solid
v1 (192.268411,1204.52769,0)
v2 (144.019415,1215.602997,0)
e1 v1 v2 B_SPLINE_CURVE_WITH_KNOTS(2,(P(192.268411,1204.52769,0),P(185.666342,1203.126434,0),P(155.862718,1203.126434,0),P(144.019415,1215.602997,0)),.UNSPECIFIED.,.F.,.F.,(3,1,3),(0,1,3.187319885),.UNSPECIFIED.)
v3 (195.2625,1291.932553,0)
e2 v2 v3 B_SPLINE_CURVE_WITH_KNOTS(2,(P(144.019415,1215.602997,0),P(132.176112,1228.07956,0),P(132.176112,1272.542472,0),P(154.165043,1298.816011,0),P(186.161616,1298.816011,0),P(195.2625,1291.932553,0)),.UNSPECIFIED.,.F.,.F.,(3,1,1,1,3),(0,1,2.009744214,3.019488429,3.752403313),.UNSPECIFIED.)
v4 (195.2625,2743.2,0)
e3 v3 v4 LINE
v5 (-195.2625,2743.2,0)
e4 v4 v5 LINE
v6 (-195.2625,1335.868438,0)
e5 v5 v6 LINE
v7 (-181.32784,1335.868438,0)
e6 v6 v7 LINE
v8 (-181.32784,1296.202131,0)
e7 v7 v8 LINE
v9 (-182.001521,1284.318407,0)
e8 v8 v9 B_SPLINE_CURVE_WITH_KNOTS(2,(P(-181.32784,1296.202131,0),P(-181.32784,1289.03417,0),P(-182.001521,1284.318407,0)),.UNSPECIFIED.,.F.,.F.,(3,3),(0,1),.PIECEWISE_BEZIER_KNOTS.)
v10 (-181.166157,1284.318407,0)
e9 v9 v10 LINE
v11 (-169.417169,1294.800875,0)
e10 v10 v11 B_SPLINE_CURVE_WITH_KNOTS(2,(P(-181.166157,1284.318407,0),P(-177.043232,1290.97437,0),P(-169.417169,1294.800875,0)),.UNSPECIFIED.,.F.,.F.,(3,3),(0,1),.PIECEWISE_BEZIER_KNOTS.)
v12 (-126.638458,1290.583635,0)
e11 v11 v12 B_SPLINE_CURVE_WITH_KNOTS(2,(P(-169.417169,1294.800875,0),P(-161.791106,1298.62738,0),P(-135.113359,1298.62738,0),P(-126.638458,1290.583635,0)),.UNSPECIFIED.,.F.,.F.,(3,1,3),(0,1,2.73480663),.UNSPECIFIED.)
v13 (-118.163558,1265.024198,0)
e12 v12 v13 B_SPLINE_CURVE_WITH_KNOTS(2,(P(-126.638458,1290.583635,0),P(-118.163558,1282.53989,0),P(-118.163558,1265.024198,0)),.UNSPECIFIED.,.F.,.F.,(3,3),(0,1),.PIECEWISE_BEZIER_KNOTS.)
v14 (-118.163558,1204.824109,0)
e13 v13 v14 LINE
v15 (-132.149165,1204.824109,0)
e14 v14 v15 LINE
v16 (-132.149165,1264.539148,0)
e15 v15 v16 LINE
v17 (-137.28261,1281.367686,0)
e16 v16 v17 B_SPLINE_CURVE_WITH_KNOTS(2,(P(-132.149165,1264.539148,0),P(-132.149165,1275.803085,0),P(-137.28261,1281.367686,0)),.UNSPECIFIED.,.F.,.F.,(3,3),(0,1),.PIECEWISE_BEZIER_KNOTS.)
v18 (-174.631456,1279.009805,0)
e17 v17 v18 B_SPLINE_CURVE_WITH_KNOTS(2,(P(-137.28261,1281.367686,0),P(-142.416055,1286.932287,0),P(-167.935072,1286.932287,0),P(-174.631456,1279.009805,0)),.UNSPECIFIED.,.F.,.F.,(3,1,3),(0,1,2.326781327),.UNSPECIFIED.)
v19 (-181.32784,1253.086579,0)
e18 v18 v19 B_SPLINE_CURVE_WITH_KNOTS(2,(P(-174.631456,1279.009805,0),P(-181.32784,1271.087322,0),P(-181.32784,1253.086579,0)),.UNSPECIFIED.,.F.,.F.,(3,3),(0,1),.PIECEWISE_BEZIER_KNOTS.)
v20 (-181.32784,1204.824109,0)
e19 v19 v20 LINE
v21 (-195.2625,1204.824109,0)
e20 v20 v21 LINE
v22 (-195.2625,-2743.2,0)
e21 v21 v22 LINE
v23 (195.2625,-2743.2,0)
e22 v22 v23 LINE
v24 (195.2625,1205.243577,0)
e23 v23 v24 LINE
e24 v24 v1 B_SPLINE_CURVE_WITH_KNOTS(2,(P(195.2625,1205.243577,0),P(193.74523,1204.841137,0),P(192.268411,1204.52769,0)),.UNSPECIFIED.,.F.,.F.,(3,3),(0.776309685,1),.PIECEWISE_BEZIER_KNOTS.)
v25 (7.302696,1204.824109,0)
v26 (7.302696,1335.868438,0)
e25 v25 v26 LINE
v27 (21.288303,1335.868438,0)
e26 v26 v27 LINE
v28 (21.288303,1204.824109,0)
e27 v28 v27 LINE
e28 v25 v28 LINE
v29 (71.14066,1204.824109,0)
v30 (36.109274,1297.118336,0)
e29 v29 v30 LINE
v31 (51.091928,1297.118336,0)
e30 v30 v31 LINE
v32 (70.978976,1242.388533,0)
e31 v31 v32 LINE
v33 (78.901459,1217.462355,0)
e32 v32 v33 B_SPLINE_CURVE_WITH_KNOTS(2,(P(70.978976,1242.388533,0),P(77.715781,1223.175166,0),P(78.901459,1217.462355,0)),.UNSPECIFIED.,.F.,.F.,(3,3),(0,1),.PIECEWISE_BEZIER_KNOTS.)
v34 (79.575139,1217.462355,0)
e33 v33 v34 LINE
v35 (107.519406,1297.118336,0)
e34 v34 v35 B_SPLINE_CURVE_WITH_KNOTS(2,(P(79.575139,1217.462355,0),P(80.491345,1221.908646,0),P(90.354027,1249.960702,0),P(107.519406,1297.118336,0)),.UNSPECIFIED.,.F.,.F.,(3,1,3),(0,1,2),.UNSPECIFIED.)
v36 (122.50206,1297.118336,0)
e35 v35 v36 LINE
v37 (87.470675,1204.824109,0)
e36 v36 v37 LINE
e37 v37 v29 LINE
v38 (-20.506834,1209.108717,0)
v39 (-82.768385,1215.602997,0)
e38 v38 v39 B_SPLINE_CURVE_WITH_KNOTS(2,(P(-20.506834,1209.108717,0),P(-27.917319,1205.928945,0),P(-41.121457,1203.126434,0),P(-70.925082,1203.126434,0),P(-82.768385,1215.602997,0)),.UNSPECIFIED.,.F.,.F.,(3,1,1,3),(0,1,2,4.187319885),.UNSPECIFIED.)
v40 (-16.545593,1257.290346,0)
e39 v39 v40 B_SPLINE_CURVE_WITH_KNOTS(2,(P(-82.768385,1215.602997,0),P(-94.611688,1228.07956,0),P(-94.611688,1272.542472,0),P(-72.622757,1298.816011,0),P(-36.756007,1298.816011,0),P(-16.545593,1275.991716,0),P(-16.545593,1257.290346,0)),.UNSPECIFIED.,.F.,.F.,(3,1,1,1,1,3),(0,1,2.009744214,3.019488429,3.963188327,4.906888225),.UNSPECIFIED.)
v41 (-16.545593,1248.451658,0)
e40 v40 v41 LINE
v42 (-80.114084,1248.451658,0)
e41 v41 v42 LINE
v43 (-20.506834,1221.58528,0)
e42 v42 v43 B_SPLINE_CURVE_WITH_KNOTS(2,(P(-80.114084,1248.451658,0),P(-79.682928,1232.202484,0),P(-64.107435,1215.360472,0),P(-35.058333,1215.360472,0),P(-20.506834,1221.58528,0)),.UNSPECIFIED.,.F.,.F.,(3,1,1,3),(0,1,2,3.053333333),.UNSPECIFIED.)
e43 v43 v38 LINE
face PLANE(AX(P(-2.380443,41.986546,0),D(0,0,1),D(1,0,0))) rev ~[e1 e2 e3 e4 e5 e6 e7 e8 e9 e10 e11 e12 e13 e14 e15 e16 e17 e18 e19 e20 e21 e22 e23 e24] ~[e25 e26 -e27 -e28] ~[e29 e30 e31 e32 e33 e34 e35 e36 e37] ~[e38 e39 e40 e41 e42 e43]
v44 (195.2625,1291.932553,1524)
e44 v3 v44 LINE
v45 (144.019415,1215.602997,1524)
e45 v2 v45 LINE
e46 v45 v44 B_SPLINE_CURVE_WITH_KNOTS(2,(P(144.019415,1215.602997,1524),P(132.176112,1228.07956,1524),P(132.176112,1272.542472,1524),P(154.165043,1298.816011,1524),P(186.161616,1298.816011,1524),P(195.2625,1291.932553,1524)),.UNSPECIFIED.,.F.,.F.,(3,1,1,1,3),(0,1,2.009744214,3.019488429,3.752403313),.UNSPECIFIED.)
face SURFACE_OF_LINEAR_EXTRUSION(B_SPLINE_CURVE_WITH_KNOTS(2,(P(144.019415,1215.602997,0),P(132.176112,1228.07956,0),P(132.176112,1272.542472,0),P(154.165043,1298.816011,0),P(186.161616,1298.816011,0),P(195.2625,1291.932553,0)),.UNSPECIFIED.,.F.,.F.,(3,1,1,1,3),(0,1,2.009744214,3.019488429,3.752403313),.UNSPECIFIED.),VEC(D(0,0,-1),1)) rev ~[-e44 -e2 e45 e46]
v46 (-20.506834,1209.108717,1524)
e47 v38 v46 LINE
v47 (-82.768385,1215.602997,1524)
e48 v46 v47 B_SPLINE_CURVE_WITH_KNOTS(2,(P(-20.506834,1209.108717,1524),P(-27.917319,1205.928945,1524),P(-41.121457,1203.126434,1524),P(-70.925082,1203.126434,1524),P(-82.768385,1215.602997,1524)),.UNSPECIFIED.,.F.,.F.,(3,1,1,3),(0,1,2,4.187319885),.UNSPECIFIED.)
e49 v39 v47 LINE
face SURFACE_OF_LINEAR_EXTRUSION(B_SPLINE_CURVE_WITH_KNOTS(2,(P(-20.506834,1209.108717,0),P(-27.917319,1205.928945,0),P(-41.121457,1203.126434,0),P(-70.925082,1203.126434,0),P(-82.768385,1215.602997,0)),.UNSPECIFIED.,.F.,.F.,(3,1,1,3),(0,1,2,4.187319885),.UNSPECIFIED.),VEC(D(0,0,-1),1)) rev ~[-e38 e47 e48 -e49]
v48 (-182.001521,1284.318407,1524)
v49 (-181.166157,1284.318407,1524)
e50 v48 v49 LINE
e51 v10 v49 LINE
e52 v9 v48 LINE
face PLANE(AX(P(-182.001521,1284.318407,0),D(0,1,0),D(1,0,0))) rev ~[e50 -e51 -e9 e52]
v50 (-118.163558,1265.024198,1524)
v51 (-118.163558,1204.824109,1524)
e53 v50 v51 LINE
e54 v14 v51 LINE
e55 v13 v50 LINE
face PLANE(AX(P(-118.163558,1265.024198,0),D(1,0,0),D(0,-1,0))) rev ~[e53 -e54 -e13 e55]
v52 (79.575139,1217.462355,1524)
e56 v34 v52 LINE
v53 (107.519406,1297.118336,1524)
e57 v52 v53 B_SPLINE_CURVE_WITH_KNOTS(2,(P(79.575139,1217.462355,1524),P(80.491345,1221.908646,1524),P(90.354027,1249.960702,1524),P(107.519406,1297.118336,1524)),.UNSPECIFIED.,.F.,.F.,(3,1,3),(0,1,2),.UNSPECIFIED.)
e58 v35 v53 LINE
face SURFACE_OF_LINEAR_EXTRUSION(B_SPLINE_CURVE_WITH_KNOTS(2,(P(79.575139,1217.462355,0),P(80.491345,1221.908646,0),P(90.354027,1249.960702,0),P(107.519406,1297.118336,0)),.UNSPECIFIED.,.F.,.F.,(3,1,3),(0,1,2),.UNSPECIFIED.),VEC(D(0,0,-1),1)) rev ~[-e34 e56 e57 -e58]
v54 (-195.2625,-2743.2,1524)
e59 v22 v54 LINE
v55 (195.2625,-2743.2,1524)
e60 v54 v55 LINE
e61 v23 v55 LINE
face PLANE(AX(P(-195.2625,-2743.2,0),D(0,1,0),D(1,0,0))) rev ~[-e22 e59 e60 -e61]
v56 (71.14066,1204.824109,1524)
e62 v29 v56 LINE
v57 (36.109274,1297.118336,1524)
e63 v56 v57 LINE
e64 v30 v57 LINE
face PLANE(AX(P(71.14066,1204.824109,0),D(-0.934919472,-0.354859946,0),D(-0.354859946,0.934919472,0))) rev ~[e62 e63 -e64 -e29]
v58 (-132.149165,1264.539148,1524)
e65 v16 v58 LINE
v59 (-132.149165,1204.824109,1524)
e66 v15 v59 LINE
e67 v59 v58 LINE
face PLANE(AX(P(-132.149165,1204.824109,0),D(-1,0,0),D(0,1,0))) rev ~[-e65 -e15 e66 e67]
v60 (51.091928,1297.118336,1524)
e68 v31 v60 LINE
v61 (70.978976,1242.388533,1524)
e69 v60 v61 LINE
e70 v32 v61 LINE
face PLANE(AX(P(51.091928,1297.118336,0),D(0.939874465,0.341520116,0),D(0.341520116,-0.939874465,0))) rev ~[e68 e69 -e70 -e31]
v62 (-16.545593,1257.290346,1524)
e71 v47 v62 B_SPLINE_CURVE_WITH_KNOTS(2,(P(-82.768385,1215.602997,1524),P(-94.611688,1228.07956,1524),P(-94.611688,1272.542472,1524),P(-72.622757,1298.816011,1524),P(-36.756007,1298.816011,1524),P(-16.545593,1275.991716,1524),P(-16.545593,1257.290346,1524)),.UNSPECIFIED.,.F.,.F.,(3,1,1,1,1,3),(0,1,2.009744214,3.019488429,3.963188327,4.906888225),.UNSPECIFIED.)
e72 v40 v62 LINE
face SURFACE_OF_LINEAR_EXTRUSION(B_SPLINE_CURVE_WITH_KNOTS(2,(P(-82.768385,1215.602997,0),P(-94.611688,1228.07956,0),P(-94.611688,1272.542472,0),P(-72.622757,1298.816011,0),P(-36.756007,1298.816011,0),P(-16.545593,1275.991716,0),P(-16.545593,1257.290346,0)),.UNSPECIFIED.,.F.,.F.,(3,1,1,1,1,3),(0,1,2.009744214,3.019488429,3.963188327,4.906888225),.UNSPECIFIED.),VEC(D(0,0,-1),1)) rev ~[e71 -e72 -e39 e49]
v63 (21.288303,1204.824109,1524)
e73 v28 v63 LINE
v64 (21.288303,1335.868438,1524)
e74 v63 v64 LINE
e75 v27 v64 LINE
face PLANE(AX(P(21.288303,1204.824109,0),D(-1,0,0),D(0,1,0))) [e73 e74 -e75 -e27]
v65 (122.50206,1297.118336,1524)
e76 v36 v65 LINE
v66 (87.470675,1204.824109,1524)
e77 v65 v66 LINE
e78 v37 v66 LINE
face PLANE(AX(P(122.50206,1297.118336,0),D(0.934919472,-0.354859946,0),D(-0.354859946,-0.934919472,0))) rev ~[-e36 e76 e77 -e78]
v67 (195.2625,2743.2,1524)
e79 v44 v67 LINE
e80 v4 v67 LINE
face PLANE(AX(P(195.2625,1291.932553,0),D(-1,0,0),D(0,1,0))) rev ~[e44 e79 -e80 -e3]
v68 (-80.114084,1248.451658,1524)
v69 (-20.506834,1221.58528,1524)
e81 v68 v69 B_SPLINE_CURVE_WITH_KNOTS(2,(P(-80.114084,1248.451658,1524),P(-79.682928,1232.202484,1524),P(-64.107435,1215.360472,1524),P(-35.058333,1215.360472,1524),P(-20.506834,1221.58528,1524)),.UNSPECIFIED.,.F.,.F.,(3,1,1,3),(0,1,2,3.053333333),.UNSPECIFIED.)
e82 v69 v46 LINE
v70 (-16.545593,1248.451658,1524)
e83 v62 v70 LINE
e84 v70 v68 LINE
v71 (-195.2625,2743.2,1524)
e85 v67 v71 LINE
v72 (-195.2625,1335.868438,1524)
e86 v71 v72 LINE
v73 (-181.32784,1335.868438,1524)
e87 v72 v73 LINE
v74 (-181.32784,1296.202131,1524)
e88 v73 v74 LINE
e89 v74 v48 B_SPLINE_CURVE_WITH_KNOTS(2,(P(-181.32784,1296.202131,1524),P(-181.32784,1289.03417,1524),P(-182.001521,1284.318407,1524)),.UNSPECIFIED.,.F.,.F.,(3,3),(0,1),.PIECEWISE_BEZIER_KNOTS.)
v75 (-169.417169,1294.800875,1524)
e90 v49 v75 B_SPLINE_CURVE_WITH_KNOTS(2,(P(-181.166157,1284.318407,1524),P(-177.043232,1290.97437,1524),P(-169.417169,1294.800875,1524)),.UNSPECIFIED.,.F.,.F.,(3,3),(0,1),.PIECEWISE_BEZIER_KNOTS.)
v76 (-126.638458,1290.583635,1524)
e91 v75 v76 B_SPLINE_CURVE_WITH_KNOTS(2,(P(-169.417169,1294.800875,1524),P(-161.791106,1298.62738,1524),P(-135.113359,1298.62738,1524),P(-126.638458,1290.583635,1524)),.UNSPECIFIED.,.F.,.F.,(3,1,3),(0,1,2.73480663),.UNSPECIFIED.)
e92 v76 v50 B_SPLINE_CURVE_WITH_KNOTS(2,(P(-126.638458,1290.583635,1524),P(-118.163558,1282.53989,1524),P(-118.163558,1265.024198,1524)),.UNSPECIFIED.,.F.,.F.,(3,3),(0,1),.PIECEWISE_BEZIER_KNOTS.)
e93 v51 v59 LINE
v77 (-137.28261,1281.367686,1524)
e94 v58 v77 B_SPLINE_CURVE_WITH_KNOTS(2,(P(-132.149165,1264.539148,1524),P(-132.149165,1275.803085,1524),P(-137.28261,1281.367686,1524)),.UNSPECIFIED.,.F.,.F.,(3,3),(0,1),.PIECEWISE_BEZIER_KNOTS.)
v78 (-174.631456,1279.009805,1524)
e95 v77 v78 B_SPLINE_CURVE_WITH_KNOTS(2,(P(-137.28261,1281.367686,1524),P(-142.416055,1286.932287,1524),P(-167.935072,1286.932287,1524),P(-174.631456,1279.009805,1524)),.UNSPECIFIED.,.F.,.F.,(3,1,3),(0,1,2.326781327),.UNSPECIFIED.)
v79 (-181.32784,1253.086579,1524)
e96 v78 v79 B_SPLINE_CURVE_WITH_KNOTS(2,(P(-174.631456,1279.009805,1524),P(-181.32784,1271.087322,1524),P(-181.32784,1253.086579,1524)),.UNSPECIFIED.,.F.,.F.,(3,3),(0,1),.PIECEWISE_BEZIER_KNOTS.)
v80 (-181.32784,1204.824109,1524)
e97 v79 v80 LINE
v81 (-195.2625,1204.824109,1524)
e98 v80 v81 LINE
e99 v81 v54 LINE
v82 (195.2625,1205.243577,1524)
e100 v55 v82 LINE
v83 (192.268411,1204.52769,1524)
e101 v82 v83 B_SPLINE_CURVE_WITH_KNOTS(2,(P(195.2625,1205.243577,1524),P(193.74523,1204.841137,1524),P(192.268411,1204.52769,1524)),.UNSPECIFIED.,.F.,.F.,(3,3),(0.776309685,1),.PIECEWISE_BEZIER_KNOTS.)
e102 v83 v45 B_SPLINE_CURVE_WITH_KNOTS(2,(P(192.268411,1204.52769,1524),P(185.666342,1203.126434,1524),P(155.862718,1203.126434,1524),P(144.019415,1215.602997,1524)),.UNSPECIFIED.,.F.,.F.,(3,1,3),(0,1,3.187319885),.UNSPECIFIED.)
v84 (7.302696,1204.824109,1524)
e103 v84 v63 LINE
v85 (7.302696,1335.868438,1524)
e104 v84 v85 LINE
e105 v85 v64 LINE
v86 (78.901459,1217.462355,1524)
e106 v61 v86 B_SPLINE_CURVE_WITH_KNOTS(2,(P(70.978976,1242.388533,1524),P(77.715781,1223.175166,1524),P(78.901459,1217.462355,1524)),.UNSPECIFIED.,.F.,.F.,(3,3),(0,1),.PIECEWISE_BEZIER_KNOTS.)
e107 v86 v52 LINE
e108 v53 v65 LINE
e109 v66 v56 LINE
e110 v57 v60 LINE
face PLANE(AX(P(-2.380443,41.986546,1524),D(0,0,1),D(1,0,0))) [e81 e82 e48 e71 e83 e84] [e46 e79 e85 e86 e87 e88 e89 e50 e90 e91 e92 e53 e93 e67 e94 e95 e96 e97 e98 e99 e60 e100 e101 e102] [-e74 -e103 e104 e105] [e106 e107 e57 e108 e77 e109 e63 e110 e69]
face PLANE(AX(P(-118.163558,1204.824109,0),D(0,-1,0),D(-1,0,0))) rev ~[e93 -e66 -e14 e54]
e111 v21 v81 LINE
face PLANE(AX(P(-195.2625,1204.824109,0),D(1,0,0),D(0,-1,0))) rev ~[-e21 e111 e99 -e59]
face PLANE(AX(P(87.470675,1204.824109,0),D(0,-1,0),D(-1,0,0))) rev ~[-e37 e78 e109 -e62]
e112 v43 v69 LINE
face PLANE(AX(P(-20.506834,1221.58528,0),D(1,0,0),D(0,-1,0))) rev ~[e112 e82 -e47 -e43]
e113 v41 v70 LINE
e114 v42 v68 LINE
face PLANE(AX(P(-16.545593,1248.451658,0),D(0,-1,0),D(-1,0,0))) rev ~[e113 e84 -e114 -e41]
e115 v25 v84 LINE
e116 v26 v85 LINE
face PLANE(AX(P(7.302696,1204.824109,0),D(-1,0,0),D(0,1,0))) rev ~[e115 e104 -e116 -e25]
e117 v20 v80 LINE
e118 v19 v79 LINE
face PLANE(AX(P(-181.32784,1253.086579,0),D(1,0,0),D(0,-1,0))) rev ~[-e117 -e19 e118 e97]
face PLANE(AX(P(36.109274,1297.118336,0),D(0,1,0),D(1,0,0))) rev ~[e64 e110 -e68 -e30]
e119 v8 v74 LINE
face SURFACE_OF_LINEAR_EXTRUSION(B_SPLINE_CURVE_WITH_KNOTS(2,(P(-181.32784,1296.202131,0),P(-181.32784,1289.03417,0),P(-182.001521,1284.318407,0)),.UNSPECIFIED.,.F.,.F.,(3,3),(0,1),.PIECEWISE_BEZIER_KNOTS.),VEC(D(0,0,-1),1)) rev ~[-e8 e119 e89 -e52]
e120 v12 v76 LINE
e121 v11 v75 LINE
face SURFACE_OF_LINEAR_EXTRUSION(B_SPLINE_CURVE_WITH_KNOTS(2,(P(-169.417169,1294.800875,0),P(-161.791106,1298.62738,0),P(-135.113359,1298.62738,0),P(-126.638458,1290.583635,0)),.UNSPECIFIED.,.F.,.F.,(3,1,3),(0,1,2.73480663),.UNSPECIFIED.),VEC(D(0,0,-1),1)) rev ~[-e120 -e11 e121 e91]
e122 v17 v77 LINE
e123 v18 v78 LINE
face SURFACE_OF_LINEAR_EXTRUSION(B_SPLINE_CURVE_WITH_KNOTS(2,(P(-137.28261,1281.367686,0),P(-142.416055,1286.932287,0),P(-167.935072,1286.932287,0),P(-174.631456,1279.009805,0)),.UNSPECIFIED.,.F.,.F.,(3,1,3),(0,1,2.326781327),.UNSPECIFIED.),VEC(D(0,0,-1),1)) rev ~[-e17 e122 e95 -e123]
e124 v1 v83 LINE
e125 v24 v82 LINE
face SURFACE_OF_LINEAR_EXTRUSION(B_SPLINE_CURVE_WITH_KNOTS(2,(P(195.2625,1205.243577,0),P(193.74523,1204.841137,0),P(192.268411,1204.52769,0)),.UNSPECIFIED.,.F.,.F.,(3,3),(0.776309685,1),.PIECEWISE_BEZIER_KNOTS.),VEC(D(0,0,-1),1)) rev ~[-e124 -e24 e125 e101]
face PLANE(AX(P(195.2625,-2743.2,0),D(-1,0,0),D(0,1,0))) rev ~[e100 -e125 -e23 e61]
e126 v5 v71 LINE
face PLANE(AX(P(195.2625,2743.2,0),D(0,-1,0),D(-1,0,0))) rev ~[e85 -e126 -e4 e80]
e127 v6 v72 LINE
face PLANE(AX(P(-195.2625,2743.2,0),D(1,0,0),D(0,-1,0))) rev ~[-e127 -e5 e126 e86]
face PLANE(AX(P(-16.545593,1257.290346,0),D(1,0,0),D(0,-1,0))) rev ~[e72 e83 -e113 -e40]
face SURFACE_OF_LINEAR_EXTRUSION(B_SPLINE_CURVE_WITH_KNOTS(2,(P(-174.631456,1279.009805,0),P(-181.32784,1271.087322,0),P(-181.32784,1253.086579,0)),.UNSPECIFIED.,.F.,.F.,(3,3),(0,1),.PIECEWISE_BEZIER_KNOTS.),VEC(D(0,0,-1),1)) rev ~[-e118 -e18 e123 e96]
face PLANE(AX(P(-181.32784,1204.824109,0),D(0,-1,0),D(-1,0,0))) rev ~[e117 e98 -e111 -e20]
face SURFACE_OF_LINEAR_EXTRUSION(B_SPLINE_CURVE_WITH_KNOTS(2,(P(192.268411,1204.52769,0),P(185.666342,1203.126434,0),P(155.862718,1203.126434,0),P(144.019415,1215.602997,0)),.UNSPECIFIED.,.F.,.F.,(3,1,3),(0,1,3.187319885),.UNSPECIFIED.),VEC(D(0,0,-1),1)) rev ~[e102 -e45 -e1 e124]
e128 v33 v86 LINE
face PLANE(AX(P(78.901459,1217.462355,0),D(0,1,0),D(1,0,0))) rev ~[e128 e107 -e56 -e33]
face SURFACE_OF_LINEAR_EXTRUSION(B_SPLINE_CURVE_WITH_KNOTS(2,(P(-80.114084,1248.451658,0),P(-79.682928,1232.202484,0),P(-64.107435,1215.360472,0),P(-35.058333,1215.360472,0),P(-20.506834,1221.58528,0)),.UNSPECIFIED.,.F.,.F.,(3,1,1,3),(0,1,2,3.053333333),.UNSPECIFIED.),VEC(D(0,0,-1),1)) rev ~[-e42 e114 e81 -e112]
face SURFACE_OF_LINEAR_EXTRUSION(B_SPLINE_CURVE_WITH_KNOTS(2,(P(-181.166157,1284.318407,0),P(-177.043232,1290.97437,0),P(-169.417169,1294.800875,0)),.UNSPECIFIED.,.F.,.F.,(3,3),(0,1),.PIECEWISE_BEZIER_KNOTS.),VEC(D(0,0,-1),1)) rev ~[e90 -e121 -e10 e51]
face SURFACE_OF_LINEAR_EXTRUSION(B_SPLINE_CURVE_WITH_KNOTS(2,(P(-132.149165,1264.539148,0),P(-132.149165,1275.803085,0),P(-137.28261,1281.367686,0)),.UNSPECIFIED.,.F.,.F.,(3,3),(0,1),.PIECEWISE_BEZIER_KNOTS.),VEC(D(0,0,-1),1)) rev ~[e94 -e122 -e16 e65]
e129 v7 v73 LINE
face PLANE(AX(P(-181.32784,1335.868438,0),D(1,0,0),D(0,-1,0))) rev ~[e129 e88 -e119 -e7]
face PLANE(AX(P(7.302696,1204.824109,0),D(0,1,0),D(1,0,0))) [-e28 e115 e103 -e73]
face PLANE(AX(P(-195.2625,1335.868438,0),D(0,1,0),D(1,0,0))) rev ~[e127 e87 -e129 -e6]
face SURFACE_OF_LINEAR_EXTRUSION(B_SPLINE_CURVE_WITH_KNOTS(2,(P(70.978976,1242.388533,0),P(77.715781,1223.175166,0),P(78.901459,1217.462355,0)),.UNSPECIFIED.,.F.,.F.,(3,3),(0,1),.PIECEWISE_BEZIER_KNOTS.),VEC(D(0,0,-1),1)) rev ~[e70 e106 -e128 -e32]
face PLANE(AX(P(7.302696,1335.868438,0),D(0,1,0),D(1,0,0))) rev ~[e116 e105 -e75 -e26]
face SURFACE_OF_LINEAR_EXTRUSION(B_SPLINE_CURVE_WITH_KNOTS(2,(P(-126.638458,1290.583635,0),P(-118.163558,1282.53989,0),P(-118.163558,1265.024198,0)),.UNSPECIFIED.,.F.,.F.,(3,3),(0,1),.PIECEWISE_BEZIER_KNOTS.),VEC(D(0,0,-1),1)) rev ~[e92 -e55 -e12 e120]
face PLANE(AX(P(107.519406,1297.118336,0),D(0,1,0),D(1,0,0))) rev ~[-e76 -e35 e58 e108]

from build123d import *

# Parameters (mm, degrees)
F0_W     = 13.9856069313
F0_H     = 131.0443285297
F1_DEPTH = 1524


with BuildPart() as f1:
    # F0 (on Top) → F1 (new body)
    with BuildSketch(Plane.XY):
        with BuildLine():
            Line((195.2625, 1291.9325532706), (195.2625, 2743.2))
            Line((195.2625, 2743.2), (-195.2625, 2743.2))
            Line((-195.2625, 2743.2), (-195.2625, 1335.8684377216))
            Line((-195.2625, 1335.8684377216), (-181.3278401556, 1335.8684377216))
            Line((-181.3278401556, 1335.8684377216), (-181.3278401556, 1296.2021305869))
            add(Edge.make_bspline(
                [(-181.3278401556, 1296.2021305869), (-181.3278401556, 1289.0341701944), (-182.0015206436, 1284.3184067783)],
                knots=[0, 0, 0, 1, 1, 1], degree=2))
            Line((-182.0015206436, 1284.3184067783), (-181.1661568385, 1284.3184067783))
            add(Edge.make_bspline(
                [(-181.1661568385, 1284.3184067783), (-177.0432322518, 1290.9743699999), (-169.4171691274, 1294.8008751719)],
                knots=[0, 0, 0, 1, 1, 1], degree=2))
            add(Edge.make_bspline(
                [(-169.4171691274, 1294.8008751719), (-161.791106003, 1298.6273803438), (-152.0362125365, 1298.6273803438)],
                knots=[0, 0, 0, 1, 1, 1], degree=2))
            add(Edge.make_bspline(
                [(-152.0362125365, 1298.6273803438), (-135.1133586774, 1298.6273803438), (-126.6384581381, 1290.5836353168)],
                knots=[0, 0, 0, 1, 1, 1], degree=2))
            add(Edge.make_bspline(
                [(-126.6384581381, 1290.5836353168), (-118.1635575988, 1282.5398902899), (-118.1635575988, 1265.0241976013)],
                knots=[0, 0, 0, 1, 1, 1], degree=2))
            Line((-118.1635575988, 1265.0241976013), (-118.1635575988, 1204.8241091918))
            Line((-118.1635575988, 1204.8241091918), (-132.1491645301, 1204.8241091918))
            Line((-132.1491645301, 1204.8241091918), (-132.1491645301, 1264.53914765))
            add(Edge.make_bspline(
                [(-132.1491645301, 1264.53914765), (-132.1491645301, 1275.8030854097), (-137.2826098488, 1281.3676862407)],
                knots=[0, 0, 0, 1, 1, 1], degree=2))
            add(Edge.make_bspline(
                [(-137.2826098488, 1281.3676862407), (-142.4160551675, 1286.9322870718), (-153.3835735125, 1286.9322870718)],
                knots=[0, 0, 0, 1, 1, 1], degree=2))
            add(Edge.make_bspline(
                [(-153.3835735125, 1286.9322870718), (-167.9350720538, 1286.9322870718), (-174.6314561047, 1279.0098045327)],
                knots=[0, 0, 0, 1, 1, 1], degree=2))
            add(Edge.make_bspline(
                [(-174.6314561047, 1279.0098045327), (-181.3278401556, 1271.0873219935), (-181.3278401556, 1253.0865793536)],
                knots=[0, 0, 0, 1, 1, 1], degree=2))
            Line((-181.3278401556, 1253.0865793536), (-181.3278401556, 1204.8241091918))
            Line((-181.3278401556, 1204.8241091918), (-195.2625, 1204.8241091918))
            Line((-195.2625, 1204.8241091918), (-195.2625, -2743.2))
            Line((-195.2625, -2743.2), (195.2625, -2743.2))
            Line((195.2625, -2743.2), (195.2625, 1205.2435765716))
            add(Edge.make_bspline(
                [(195.2625, 1205.2435765716), (193.7452301259, 1204.8411370421), (192.2684112811, 1204.5276897771)],
                knots=[0.7763096851, 0.7763096851, 0.7763096851, 1, 1, 1], degree=2))
            add(Edge.make_bspline(
                [(192.2684112811, 1204.5276897771), (185.6663424985, 1203.126434362), (176.3156573247, 1203.126434362)],
                knots=[0, 0, 0, 1, 1, 1], degree=2))
            add(Edge.make_bspline(
                [(176.3156573247, 1203.126434362), (155.8627177084, 1203.126434362), (144.019414729, 1215.6029970002)],
                knots=[0, 0, 0, 1, 1, 1], degree=2))
            add(Edge.make_bspline(
                [(144.019414729, 1215.6029970002), (132.1761117496, 1228.0795596383), (132.1761117496, 1250.2032268649)],
                knots=[0, 0, 0, 1, 1, 1], degree=2))
            add(Edge.make_bspline(
                [(132.1761117496, 1250.2032268649), (132.1761117496, 1272.5424718477), (143.1705773141, 1285.6792413641)],
                knots=[0, 0, 0, 1, 1, 1], degree=2))
            add(Edge.make_bspline(
                [(143.1705773141, 1285.6792413641), (154.1650428786, 1298.8160108805), (172.7047299089, 1298.8160108805)],
                knots=[0, 0, 0, 1, 1, 1], degree=2))
            add(Edge.make_bspline(
                [(172.7047299089, 1298.8160108805), (186.1616157094, 1298.8160108805), (195.2625, 1291.9325532706)],
                knots=[0, 0, 0, 0.7766397836, 0.7766397836, 0.7766397836], degree=2))
        make_face()
        with BuildLine():
            add(Edge.make_bspline(
                [(-34.5193882062, 1204.5276897771), (-41.1214569888, 1203.126434362), (-50.4721421625, 1203.126434362)],
                knots=[0, 0, 0, 1, 1, 1], degree=2))
            add(Edge.make_bspline(
                [(-50.4721421625, 1203.126434362), (-70.9250817788, 1203.126434362), (-82.7683847582, 1215.6029970002)],
                knots=[0, 0, 0, 1, 1, 1], degree=2))
            add(Edge.make_bspline(
                [(-82.7683847582, 1215.6029970002), (-94.6116877376, 1228.0795596383), (-94.6116877376, 1250.2032268649)],
                knots=[0, 0, 0, 1, 1, 1], degree=2))
            add(Edge.make_bspline(
                [(-94.6116877376, 1250.2032268649), (-94.6116877376, 1272.5424718477), (-83.6172221731, 1285.6792413641)],
                knots=[0, 0, 0, 1, 1, 1], degree=2))
            add(Edge.make_bspline(
                [(-83.6172221731, 1285.6792413641), (-72.6227566086, 1298.8160108805), (-54.0830695783, 1298.8160108805)],
                knots=[0, 0, 0, 1, 1, 1], degree=2))
            add(Edge.make_bspline(
                [(-54.0830695783, 1298.8160108805), (-36.7560074264, 1298.8160108805), (-26.6508001061, 1287.4038634134)],
                knots=[0, 0, 0, 1, 1, 1], degree=2))
            add(Edge.make_bspline(
                [(-26.6508001061, 1287.4038634134), (-16.5455927858, 1275.9917159463), (-16.5455927858, 1257.2903455989)],
                knots=[0, 0, 0, 1, 1, 1], degree=2))
            Line((-16.5455927858, 1257.2903455989), (-16.5455927858, 1248.451657596))
            Line((-16.5455927858, 1248.451657596), (-80.1140836354, 1248.451657596))
            add(Edge.make_bspline(
                [(-80.1140836354, 1248.451657596), (-79.6829281231, 1232.202484225), (-71.8951816815, 1223.7814781247)],
                knots=[0, 0, 0, 1, 1, 1], degree=2))
            add(Edge.make_bspline(
                [(-71.8951816815, 1223.7814781247), (-64.10743524, 1215.3604720245), (-49.9601449916, 1215.3604720245)],
                knots=[0, 0, 0, 1, 1, 1], degree=2))
            add(Edge.make_bspline(
                [(-49.9601449916, 1215.3604720245), (-35.0583325966, 1215.3604720245), (-20.5068340553, 1221.5852797338)],
                knots=[0, 0, 0, 1, 1, 1], degree=2))
            Line((-20.5068340553, 1221.5852797338), (-20.5068340553, 1209.1087170956))
            add(Edge.make_bspline(
                [(-20.5068340553, 1209.1087170956), (-27.9173194236, 1205.9289451922), (-34.5193882062, 1204.5276897771)],
                knots=[0, 0, 0, 1, 1, 1], degree=2))
        make_face(mode=Mode.SUBTRACT)
        with Locations((14.2954999558, 1270.3462734567)):
            Rectangle(F0_W, F0_H, mode=Mode.SUBTRACT)
        with BuildLine():
            Line((87.4706745646, 1204.8241091918), (71.140659535, 1204.8241091918))
            Line((71.140659535, 1204.8241091918), (36.1092741579, 1297.1183360506))
            Line((36.1092741579, 1297.1183360506), (51.0919282115, 1297.1183360506))
            Line((51.0919282115, 1297.1183360506), (70.9789762178, 1242.3885332039))
            add(Edge.make_bspline(
                [(70.9789762178, 1242.3885332039), (77.715781098, 1223.1751656855), (78.901458757, 1217.4623551471)],
                knots=[0, 0, 0, 1, 1, 1], degree=2))
            Line((78.901458757, 1217.4623551471), (79.575139245, 1217.4623551471))
            add(Edge.make_bspline(
                [(79.575139245, 1217.4623551471), (80.4913447087, 1221.908646368), (85.422685881, 1235.9346741286)],
                knots=[0, 0, 0, 1, 1, 1], degree=2))
            add(Edge.make_bspline(
                [(85.422685881, 1235.9346741286), (90.3540270533, 1249.9607018892), (107.5194058881, 1297.1183360506)],
                knots=[0, 0, 0, 1, 1, 1], degree=2))
            Line((107.5194058881, 1297.1183360506), (122.5020599416, 1297.1183360506))
            Line((122.5020599416, 1297.1183360506), (87.4706745646, 1204.8241091918))
        make_face(mode=Mode.SUBTRACT)
    extrude(amount=F1_DEPTH)


solid = f1.part
